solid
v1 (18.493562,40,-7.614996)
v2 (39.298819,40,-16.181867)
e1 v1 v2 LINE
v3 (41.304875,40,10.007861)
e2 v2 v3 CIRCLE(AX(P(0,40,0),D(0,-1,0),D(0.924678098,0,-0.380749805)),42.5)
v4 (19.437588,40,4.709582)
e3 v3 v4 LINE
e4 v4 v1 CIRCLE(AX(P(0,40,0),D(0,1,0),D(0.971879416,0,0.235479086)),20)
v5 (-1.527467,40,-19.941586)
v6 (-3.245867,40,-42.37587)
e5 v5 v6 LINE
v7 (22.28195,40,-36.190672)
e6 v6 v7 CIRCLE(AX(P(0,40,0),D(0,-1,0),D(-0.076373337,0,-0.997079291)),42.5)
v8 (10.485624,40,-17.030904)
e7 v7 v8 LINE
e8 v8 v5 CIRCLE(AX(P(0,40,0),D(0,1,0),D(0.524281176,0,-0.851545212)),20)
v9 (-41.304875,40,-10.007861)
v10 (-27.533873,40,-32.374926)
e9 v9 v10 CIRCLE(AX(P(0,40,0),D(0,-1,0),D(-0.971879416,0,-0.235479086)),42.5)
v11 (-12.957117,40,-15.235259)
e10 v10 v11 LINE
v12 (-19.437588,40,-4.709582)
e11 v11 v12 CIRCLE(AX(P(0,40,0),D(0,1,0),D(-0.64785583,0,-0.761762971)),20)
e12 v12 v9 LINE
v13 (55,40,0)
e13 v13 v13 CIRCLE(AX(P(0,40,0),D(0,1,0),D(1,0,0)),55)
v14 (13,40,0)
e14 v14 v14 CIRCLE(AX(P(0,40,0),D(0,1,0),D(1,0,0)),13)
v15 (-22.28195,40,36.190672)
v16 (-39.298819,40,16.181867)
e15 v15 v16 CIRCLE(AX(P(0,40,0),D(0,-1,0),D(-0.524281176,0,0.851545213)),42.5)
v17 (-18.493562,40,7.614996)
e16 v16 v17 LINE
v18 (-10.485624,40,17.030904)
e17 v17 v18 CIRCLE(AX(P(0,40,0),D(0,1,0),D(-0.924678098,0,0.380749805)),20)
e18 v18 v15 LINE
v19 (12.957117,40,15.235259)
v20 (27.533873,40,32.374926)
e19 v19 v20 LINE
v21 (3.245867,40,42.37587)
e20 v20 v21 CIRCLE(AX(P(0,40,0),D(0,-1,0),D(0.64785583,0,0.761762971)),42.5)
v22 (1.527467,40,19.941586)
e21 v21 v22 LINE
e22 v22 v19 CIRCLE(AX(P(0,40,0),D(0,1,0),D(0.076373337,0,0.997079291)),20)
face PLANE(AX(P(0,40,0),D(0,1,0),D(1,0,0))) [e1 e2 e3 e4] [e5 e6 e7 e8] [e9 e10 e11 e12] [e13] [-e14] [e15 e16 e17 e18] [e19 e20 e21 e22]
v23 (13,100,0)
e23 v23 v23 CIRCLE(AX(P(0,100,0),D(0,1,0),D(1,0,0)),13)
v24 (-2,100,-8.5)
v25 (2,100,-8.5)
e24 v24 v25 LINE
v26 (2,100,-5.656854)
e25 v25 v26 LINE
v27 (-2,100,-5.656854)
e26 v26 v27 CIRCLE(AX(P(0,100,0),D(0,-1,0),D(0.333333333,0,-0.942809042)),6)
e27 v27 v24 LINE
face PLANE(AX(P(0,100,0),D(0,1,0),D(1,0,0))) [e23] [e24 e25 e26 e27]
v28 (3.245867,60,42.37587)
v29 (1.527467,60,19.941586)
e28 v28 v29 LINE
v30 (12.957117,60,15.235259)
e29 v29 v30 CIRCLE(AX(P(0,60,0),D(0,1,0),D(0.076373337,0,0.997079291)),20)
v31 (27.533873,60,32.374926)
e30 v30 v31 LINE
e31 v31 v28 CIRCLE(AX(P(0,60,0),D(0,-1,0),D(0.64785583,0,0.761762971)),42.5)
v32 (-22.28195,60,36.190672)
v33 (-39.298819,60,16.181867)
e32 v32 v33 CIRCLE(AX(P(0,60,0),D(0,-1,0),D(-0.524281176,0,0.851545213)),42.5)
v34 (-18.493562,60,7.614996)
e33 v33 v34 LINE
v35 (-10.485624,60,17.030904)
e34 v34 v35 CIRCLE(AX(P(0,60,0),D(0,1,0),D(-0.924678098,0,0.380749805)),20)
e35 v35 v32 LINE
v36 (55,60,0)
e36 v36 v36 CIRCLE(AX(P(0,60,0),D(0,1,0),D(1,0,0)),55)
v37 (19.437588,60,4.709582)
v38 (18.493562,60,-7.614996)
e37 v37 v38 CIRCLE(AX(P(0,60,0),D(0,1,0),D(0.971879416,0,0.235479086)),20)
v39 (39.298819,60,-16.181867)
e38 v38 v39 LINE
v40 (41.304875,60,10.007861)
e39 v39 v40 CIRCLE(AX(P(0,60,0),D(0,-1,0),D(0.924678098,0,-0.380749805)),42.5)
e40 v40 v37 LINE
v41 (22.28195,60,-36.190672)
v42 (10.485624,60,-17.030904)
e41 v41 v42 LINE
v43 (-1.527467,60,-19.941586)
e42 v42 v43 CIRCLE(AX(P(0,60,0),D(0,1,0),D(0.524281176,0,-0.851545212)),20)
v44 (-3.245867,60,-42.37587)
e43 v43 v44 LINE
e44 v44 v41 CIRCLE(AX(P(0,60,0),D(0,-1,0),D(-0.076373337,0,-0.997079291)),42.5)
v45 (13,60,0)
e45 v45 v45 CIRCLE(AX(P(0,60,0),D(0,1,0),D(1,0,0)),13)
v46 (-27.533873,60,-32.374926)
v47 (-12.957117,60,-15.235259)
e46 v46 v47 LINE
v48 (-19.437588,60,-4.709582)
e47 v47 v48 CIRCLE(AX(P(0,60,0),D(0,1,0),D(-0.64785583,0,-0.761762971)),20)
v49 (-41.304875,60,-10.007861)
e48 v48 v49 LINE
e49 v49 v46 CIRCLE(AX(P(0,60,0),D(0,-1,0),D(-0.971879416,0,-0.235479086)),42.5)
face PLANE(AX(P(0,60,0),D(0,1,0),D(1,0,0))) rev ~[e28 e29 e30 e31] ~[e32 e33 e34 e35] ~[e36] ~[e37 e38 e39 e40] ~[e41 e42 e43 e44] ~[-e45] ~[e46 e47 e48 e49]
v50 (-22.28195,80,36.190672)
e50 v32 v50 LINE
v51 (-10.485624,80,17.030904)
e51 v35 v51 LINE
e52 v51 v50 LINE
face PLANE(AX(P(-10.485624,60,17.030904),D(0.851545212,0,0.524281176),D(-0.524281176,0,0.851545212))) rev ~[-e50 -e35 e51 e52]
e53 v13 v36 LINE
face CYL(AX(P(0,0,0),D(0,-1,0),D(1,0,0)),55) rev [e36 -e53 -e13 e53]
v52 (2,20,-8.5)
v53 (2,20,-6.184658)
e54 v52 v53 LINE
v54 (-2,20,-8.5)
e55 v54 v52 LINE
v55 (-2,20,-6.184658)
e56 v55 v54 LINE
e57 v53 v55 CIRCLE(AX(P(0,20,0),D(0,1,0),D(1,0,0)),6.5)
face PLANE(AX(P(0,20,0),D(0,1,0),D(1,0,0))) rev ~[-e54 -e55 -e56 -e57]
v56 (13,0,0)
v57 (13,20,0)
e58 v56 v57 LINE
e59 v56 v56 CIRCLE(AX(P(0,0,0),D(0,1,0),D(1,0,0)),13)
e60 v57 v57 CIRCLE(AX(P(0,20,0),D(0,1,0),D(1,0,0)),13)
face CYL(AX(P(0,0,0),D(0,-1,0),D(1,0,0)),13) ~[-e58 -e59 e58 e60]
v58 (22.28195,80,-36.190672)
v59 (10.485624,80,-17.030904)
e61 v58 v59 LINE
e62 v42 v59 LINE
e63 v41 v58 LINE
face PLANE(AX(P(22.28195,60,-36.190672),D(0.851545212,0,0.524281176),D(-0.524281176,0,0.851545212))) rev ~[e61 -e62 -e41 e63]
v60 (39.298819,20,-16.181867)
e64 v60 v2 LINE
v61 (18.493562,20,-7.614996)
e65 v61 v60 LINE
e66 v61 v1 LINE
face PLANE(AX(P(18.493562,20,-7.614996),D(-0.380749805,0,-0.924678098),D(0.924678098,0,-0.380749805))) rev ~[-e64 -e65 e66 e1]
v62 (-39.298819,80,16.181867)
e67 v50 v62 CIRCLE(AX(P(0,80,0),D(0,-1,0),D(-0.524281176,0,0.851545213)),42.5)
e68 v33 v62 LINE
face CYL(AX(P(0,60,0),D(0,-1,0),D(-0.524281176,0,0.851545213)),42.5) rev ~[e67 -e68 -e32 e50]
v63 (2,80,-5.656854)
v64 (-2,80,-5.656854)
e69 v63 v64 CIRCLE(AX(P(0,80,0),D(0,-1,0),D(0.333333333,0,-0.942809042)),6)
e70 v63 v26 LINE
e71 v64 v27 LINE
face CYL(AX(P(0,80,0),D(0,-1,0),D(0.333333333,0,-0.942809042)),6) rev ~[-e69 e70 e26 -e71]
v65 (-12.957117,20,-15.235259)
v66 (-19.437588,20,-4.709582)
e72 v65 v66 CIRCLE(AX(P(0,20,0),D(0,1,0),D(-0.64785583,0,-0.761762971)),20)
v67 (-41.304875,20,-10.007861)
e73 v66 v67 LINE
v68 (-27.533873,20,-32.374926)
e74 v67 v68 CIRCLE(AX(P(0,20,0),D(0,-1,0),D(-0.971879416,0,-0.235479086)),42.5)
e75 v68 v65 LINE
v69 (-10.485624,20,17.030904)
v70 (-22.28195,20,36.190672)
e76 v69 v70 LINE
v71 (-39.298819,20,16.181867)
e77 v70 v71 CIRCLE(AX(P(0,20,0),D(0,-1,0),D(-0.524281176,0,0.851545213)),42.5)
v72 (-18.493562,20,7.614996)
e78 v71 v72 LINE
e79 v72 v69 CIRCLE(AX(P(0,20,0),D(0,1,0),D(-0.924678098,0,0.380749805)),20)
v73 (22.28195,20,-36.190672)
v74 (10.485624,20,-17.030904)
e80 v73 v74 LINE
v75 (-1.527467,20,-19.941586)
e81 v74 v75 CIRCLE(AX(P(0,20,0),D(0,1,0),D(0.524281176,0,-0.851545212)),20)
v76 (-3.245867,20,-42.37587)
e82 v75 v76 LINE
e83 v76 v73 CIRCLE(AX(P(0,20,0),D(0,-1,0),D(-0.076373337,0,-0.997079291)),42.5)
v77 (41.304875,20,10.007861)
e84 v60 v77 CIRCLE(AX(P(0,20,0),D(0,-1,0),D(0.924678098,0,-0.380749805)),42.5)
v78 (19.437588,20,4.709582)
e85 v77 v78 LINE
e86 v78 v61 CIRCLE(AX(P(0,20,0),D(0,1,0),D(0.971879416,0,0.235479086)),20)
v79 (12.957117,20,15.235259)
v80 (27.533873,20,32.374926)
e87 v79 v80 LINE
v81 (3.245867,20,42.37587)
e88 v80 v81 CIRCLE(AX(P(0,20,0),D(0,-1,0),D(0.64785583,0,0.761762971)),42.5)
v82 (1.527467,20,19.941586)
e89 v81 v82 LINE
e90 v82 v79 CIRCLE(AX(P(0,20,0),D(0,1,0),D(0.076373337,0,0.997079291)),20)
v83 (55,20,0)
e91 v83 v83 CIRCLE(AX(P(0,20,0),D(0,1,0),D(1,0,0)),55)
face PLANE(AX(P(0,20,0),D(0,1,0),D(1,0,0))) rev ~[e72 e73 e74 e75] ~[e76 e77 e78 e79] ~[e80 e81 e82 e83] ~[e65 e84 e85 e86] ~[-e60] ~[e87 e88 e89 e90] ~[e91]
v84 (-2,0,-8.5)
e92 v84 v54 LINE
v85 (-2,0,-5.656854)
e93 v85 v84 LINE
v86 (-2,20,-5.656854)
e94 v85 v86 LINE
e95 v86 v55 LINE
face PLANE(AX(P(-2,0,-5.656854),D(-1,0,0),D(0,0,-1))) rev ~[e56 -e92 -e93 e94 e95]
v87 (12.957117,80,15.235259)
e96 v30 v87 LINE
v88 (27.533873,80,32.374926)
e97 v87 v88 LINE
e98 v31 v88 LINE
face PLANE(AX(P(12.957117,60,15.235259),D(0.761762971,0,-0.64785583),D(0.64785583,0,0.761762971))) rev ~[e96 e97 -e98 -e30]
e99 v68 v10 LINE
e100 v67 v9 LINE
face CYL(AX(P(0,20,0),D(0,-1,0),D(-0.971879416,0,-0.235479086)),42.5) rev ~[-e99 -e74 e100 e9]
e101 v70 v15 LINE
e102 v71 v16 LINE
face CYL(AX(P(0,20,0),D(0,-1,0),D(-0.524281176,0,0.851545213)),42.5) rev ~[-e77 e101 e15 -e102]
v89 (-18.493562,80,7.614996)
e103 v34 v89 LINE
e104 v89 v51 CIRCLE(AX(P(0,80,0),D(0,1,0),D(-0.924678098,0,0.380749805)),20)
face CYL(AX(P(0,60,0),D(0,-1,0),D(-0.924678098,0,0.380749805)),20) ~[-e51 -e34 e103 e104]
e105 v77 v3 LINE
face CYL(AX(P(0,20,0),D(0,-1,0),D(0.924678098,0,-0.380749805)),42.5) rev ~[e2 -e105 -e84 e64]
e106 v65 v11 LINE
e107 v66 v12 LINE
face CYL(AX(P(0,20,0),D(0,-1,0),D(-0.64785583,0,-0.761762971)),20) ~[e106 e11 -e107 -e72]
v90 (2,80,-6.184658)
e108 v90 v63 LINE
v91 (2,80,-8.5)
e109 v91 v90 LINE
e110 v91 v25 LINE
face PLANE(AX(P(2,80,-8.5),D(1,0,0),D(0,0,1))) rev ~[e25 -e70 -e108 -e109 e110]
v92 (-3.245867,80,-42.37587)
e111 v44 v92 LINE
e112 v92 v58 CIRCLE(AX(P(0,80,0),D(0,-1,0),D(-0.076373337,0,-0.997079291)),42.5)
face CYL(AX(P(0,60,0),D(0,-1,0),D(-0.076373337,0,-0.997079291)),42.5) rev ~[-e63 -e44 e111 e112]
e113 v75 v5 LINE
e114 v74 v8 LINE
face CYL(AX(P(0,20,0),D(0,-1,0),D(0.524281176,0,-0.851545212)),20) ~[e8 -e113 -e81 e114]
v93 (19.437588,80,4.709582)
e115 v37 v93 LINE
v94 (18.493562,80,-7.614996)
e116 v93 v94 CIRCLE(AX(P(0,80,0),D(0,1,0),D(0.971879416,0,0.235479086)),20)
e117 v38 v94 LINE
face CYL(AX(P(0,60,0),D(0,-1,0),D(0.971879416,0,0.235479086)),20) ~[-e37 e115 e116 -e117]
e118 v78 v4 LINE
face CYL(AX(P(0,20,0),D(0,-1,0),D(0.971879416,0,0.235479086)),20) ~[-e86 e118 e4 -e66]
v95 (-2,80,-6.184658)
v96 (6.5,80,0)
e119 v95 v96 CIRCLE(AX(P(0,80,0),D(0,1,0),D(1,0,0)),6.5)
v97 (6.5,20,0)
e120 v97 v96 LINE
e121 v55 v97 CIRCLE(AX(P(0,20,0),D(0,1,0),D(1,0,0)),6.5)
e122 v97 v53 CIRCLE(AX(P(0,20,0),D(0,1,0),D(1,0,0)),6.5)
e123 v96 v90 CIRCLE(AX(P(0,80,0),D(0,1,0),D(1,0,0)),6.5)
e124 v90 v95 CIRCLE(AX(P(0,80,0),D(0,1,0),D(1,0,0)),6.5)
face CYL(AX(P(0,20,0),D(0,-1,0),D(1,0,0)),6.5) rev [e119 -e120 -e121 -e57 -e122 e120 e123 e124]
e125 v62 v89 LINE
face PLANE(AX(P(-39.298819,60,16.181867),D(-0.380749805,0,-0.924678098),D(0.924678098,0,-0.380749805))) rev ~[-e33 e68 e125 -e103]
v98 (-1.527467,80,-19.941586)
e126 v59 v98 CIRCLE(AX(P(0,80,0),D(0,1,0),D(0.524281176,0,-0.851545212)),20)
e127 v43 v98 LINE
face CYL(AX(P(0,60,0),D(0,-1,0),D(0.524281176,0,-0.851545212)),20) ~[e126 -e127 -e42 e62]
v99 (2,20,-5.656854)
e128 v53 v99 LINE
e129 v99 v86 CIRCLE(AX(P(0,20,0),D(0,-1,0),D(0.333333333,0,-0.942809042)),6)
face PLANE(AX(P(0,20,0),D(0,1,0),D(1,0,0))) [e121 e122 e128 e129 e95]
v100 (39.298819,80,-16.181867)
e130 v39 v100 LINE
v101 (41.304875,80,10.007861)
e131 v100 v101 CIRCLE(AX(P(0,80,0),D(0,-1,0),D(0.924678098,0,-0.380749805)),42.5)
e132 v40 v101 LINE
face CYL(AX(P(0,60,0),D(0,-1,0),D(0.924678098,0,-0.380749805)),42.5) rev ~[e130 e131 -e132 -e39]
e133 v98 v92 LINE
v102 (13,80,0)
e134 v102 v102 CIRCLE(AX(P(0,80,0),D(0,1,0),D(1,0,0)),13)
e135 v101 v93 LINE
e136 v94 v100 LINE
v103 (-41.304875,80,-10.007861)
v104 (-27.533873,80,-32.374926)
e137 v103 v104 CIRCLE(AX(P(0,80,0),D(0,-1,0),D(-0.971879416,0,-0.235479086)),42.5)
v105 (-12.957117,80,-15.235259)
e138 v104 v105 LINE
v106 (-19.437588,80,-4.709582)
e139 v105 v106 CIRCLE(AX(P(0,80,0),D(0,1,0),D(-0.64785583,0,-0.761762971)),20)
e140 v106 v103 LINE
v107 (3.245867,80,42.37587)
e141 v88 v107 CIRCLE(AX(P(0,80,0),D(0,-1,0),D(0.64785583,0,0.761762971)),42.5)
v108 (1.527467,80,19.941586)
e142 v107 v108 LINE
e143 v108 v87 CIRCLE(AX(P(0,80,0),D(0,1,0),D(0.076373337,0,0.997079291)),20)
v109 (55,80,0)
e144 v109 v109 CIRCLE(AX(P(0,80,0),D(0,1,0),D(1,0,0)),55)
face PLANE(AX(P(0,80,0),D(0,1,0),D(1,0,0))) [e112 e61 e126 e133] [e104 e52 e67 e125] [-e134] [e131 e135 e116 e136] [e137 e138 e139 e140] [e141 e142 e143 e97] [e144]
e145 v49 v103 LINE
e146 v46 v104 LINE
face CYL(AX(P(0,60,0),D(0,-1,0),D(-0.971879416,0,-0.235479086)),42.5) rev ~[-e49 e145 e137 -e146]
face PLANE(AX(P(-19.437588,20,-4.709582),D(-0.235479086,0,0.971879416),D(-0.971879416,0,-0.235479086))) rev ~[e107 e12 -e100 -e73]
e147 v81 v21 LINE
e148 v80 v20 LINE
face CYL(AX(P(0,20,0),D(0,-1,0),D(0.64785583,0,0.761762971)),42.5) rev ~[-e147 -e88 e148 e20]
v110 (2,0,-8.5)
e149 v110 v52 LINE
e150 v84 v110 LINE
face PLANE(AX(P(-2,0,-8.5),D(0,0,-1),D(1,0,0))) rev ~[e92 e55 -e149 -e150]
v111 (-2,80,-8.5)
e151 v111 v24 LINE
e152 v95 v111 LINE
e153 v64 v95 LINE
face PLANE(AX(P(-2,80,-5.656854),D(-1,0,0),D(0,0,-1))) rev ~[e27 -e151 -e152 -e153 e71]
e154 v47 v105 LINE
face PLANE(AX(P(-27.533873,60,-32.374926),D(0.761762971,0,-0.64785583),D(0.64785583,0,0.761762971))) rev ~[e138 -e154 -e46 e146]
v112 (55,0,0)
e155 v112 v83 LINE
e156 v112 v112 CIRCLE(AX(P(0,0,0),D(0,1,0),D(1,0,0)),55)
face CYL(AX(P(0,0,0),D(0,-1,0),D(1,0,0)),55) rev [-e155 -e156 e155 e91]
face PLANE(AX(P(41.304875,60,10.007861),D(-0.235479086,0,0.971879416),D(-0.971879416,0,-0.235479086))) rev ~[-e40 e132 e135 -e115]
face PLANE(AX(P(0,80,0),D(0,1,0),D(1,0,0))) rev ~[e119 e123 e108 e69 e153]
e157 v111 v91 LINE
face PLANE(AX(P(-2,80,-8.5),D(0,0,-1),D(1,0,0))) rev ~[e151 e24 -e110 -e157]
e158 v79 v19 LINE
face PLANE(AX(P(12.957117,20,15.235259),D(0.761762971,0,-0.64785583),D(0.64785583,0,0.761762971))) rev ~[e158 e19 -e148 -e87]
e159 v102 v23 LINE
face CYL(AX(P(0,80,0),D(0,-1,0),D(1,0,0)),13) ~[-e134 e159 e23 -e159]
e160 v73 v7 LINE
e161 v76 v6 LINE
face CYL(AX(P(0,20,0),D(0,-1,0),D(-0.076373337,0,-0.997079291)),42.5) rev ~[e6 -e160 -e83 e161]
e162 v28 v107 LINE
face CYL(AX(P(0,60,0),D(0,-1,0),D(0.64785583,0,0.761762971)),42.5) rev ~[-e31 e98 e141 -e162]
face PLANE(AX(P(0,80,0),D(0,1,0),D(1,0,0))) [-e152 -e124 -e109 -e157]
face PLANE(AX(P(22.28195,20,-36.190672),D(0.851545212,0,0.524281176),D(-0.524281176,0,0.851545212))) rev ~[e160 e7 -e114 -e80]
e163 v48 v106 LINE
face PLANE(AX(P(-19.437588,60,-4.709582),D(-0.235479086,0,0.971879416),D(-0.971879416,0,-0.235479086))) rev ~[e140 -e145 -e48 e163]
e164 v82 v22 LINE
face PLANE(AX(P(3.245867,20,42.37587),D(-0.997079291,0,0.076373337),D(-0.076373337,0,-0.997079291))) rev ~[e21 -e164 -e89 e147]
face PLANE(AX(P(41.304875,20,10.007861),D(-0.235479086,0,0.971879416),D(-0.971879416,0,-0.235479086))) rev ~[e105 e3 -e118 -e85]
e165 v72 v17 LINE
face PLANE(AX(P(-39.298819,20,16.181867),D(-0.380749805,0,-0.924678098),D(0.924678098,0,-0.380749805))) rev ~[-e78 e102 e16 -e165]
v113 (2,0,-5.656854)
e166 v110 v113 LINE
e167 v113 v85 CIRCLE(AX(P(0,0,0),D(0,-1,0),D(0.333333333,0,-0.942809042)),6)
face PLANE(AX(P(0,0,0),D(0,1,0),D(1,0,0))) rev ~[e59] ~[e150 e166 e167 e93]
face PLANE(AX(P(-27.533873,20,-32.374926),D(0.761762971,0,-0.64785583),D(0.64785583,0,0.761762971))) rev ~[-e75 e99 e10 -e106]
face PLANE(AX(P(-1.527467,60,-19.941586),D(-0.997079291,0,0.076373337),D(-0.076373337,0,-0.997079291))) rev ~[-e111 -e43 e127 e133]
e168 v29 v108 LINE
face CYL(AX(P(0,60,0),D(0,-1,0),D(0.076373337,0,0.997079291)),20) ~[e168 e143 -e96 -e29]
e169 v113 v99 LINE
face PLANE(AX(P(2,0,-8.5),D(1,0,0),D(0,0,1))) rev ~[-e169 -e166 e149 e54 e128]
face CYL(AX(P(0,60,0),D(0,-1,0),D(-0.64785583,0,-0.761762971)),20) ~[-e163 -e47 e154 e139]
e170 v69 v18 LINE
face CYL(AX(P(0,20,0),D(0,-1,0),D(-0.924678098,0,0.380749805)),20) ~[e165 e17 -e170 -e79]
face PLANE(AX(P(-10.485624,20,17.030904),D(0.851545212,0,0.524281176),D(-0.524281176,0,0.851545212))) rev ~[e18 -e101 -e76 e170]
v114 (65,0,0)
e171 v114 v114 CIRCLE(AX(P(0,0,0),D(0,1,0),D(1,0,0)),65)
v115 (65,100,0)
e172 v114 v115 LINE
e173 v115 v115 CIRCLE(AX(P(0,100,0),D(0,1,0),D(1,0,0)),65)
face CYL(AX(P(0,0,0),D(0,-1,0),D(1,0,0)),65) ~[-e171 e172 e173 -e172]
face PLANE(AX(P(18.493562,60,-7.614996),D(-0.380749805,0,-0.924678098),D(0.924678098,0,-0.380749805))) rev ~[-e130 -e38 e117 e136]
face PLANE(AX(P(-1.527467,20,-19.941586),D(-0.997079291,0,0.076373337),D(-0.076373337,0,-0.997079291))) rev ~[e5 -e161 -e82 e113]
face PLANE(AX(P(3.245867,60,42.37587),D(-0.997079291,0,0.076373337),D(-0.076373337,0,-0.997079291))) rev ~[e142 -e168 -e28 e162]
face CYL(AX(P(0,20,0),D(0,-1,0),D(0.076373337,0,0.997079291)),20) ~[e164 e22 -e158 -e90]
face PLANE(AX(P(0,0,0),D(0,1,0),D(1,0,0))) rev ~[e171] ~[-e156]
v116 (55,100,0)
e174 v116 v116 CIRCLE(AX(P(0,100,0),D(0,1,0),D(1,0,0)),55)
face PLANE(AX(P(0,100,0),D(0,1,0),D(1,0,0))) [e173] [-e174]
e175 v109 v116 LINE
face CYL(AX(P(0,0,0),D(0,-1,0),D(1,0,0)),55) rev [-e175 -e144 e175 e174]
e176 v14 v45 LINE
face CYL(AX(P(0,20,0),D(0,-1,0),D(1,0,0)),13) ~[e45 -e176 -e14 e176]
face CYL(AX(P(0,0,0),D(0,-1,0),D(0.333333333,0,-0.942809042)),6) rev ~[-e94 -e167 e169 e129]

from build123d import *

# Parameters (mm, degrees)
SKETCH1_R           = 65
SKETCH1_R_2         = 55
BOSS_EXTRUDE1_DEPTH = 100
BOSS_EXTRUDE2_START = 20
SKETCH3_R           = 55
SKETCH3_R_2         = 13
BOSS_EXTRUDE2_DEPTH = 20
BOSS_EXTRUDE3_START = 60
SKETCH3_5_R         = 55
SKETCH3_5_R_2       = 13
BOSS_EXTRUDE3_DEPTH = 20
BOSS_EXTRUDE4_START = 20
SKETCH3_7_R         = 13
SKETCH3_7_R_2       = 6.5
BOSS_EXTRUDE4_DEPTH = 60
SKETCH3_10_R        = 13
BOSS_EXTRUDE5_DEPTH = 20
BOSS_EXTRUDE6_START = 80
SKETCH3_11_R        = 13
BOSS_EXTRUDE6_DEPTH = 20


with BuildPart() as part:
    # Sketch1 → Boss-Extrude1 (new body)
    with BuildSketch(Plane(origin=(0, 0, 0), x_dir=(1, 0, 0), z_dir=(0, 1, 0))):
        Circle(SKETCH1_R)
        Circle(SKETCH1_R_2, mode=Mode.SUBTRACT)
    extrude(amount=BOSS_EXTRUDE1_DEPTH)

    # Sketch3 → Boss-Extrude2 (add)
    with BuildSketch(Plane(origin=(0, 0, 0), x_dir=(1, 0, 0), z_dir=(0, 1, 0)).offset(BOSS_EXTRUDE2_START)):
        Circle(SKETCH3_R)
        with BuildLine():
            ThreePointArc((1.527466732, -19.941585829), (7.614996105, -18.493561969), (12.957116602, -15.235259412))
            Line((12.957116602, -15.235259412), (27.53387278, -32.374926251))
            ThreePointArc((27.53387278, -32.374926251), (16.181866723, -39.298819185), (3.245866806, -42.375869887))
            Line((3.245866806, -42.375869887), (1.527466732, -19.941585829))
        make_face(mode=Mode.SUBTRACT)
        with BuildLine():
            ThreePointArc((-18.493561969, -7.614996105), (-15.235259412, -12.957116602), (-10.485623513, -17.030904249))
            Line((-10.485623513, -17.030904249), (-22.281949965, -36.190671529))
            ThreePointArc((-22.281949965, -36.190671529), (-32.374926251, -27.53387278), (-39.298819185, -16.181866723))
            Line((-39.298819185, -16.181866723), (-18.493561969, -7.614996105))
        make_face(mode=Mode.SUBTRACT)
        with BuildLine():
            ThreePointArc((-12.957116602, 15.235259412), (-17.030904249, 10.485623513), (-19.437588327, 4.709581727))
            Line((-19.437588327, 4.709581727), (-41.304875194, 10.00786117))
            ThreePointArc((-41.304875194, 10.00786117), (-36.190671529, 22.281949965), (-27.53387278, 32.374926251))
            Line((-27.53387278, 32.374926251), (-12.957116602, 15.235259412))
        make_face(mode=Mode.SUBTRACT)
        with BuildLine():
            ThreePointArc((10.485623513, 17.030904249), (4.709581727, 19.437588327), (-1.527466732, 19.941585829))
            Line((-1.527466732, 19.941585829), (-3.245866806, 42.375869887))
            ThreePointArc((-3.245866806, 42.375869887), (10.00786117, 41.304875194), (22.281949965, 36.190671529))
            Line((22.281949965, 36.190671529), (10.485623513, 17.030904249))
        make_face(mode=Mode.SUBTRACT)
        with BuildLine():
            Line((18.493561969, 7.614996105), (39.298819185, 16.181866723))
            ThreePointArc((39.298819185, 16.181866723), (42.375869887, 3.245866806), (41.304875194, -10.00786117))
            Line((41.304875194, -10.00786117), (19.437588327, -4.709581727))
            ThreePointArc((19.437588327, -4.709581727), (19.941585829, 1.527466732), (18.493561969, 7.614996105))
        make_face(mode=Mode.SUBTRACT)
        Circle(SKETCH3_R_2, mode=Mode.SUBTRACT)
    extrude(amount=BOSS_EXTRUDE2_DEPTH)

    # Sketch3<5> → Boss-Extrude3 (add)
    with BuildSketch(Plane(origin=(0, 0, 0), x_dir=(1, 0, 0), z_dir=(0, 1, 0)).offset(BOSS_EXTRUDE3_START)):
        Circle(SKETCH3_5_R)
        with BuildLine():
            ThreePointArc((1.527466732, -19.941585829), (7.614996105, -18.493561969), (12.957116602, -15.235259412))
            Line((12.957116602, -15.235259412), (27.53387278, -32.374926251))
            ThreePointArc((27.53387278, -32.374926251), (16.181866723, -39.298819185), (3.245866806, -42.375869887))
            Line((3.245866806, -42.375869887), (1.527466732, -19.941585829))
        make_face(mode=Mode.SUBTRACT)
        with BuildLine():
            ThreePointArc((-18.493561969, -7.614996105), (-15.235259412, -12.957116602), (-10.485623513, -17.030904249))
            Line((-10.485623513, -17.030904249), (-22.281949965, -36.190671529))
            ThreePointArc((-22.281949965, -36.190671529), (-32.374926251, -27.53387278), (-39.298819185, -16.181866723))
            Line((-39.298819185, -16.181866723), (-18.493561969, -7.614996105))
        make_face(mode=Mode.SUBTRACT)
        with BuildLine():
            ThreePointArc((-12.957116602, 15.235259412), (-17.030904249, 10.485623513), (-19.437588327, 4.709581727))
            Line((-19.437588327, 4.709581727), (-41.304875194, 10.00786117))
            ThreePointArc((-41.304875194, 10.00786117), (-36.190671529, 22.281949965), (-27.53387278, 32.374926251))
            Line((-27.53387278, 32.374926251), (-12.957116602, 15.235259412))
        make_face(mode=Mode.SUBTRACT)
        with BuildLine():
            ThreePointArc((10.485623513, 17.030904249), (4.709581727, 19.437588327), (-1.527466732, 19.941585829))
            Line((-1.527466732, 19.941585829), (-3.245866806, 42.375869887))
            ThreePointArc((-3.245866806, 42.375869887), (10.00786117, 41.304875194), (22.281949965, 36.190671529))
            Line((22.281949965, 36.190671529), (10.485623513, 17.030904249))
        make_face(mode=Mode.SUBTRACT)
        with BuildLine():
            Line((18.493561969, 7.614996105), (39.298819185, 16.181866723))
            ThreePointArc((39.298819185, 16.181866723), (42.375869887, 3.245866806), (41.304875194, -10.00786117))
            Line((41.304875194, -10.00786117), (19.437588327, -4.709581727))
            ThreePointArc((19.437588327, -4.709581727), (19.941585829, 1.527466732), (18.493561969, 7.614996105))
        make_face(mode=Mode.SUBTRACT)
        Circle(SKETCH3_5_R_2, mode=Mode.SUBTRACT)
    extrude(amount=BOSS_EXTRUDE3_DEPTH)

    # Sketch3<7> → Boss-Extrude4 (add)
    with BuildSketch(Plane(origin=(0, 0, 0), x_dir=(1, 0, 0), z_dir=(0, 1, 0)).offset(BOSS_EXTRUDE4_START)):
        Circle(SKETCH3_7_R)
        Circle(SKETCH3_7_R_2, mode=Mode.SUBTRACT)
    extrude(amount=BOSS_EXTRUDE4_DEPTH)

    # Sketch3<10> → Boss-Extrude5 (add)
    with BuildSketch(Plane(origin=(0, 0, 0), x_dir=(1, 0, 0), z_dir=(0, 1, 0))):
        Circle(SKETCH3_10_R)
        with BuildLine():
            ThreePointArc((2, 5.656854249), (0, -6), (-2, 5.656854249))
            Line((-2, 5.656854249), (-2, 8.5))
            Line((-2, 8.5), (2, 8.5))
            Line((2, 8.5), (2, 5.656854249))
        make_face(mode=Mode.SUBTRACT)
    extrude(amount=BOSS_EXTRUDE5_DEPTH)

    # Sketch3<11> → Boss-Extrude6 (add)
    with BuildSketch(Plane(origin=(0, 0, 0), x_dir=(1, 0, 0), z_dir=(0, 1, 0)).offset(BOSS_EXTRUDE6_START)):
        Circle(SKETCH3_11_R)
        with BuildLine():
            ThreePointArc((2, 5.656854249), (0, -6), (-2, 5.656854249))
            Line((-2, 5.656854249), (-2, 8.5))
            Line((-2, 8.5), (2, 8.5))
            Line((2, 8.5), (2, 5.656854249))
        make_face(mode=Mode.SUBTRACT)
    extrude(amount=BOSS_EXTRUDE6_DEPTH)


solid = part.part
